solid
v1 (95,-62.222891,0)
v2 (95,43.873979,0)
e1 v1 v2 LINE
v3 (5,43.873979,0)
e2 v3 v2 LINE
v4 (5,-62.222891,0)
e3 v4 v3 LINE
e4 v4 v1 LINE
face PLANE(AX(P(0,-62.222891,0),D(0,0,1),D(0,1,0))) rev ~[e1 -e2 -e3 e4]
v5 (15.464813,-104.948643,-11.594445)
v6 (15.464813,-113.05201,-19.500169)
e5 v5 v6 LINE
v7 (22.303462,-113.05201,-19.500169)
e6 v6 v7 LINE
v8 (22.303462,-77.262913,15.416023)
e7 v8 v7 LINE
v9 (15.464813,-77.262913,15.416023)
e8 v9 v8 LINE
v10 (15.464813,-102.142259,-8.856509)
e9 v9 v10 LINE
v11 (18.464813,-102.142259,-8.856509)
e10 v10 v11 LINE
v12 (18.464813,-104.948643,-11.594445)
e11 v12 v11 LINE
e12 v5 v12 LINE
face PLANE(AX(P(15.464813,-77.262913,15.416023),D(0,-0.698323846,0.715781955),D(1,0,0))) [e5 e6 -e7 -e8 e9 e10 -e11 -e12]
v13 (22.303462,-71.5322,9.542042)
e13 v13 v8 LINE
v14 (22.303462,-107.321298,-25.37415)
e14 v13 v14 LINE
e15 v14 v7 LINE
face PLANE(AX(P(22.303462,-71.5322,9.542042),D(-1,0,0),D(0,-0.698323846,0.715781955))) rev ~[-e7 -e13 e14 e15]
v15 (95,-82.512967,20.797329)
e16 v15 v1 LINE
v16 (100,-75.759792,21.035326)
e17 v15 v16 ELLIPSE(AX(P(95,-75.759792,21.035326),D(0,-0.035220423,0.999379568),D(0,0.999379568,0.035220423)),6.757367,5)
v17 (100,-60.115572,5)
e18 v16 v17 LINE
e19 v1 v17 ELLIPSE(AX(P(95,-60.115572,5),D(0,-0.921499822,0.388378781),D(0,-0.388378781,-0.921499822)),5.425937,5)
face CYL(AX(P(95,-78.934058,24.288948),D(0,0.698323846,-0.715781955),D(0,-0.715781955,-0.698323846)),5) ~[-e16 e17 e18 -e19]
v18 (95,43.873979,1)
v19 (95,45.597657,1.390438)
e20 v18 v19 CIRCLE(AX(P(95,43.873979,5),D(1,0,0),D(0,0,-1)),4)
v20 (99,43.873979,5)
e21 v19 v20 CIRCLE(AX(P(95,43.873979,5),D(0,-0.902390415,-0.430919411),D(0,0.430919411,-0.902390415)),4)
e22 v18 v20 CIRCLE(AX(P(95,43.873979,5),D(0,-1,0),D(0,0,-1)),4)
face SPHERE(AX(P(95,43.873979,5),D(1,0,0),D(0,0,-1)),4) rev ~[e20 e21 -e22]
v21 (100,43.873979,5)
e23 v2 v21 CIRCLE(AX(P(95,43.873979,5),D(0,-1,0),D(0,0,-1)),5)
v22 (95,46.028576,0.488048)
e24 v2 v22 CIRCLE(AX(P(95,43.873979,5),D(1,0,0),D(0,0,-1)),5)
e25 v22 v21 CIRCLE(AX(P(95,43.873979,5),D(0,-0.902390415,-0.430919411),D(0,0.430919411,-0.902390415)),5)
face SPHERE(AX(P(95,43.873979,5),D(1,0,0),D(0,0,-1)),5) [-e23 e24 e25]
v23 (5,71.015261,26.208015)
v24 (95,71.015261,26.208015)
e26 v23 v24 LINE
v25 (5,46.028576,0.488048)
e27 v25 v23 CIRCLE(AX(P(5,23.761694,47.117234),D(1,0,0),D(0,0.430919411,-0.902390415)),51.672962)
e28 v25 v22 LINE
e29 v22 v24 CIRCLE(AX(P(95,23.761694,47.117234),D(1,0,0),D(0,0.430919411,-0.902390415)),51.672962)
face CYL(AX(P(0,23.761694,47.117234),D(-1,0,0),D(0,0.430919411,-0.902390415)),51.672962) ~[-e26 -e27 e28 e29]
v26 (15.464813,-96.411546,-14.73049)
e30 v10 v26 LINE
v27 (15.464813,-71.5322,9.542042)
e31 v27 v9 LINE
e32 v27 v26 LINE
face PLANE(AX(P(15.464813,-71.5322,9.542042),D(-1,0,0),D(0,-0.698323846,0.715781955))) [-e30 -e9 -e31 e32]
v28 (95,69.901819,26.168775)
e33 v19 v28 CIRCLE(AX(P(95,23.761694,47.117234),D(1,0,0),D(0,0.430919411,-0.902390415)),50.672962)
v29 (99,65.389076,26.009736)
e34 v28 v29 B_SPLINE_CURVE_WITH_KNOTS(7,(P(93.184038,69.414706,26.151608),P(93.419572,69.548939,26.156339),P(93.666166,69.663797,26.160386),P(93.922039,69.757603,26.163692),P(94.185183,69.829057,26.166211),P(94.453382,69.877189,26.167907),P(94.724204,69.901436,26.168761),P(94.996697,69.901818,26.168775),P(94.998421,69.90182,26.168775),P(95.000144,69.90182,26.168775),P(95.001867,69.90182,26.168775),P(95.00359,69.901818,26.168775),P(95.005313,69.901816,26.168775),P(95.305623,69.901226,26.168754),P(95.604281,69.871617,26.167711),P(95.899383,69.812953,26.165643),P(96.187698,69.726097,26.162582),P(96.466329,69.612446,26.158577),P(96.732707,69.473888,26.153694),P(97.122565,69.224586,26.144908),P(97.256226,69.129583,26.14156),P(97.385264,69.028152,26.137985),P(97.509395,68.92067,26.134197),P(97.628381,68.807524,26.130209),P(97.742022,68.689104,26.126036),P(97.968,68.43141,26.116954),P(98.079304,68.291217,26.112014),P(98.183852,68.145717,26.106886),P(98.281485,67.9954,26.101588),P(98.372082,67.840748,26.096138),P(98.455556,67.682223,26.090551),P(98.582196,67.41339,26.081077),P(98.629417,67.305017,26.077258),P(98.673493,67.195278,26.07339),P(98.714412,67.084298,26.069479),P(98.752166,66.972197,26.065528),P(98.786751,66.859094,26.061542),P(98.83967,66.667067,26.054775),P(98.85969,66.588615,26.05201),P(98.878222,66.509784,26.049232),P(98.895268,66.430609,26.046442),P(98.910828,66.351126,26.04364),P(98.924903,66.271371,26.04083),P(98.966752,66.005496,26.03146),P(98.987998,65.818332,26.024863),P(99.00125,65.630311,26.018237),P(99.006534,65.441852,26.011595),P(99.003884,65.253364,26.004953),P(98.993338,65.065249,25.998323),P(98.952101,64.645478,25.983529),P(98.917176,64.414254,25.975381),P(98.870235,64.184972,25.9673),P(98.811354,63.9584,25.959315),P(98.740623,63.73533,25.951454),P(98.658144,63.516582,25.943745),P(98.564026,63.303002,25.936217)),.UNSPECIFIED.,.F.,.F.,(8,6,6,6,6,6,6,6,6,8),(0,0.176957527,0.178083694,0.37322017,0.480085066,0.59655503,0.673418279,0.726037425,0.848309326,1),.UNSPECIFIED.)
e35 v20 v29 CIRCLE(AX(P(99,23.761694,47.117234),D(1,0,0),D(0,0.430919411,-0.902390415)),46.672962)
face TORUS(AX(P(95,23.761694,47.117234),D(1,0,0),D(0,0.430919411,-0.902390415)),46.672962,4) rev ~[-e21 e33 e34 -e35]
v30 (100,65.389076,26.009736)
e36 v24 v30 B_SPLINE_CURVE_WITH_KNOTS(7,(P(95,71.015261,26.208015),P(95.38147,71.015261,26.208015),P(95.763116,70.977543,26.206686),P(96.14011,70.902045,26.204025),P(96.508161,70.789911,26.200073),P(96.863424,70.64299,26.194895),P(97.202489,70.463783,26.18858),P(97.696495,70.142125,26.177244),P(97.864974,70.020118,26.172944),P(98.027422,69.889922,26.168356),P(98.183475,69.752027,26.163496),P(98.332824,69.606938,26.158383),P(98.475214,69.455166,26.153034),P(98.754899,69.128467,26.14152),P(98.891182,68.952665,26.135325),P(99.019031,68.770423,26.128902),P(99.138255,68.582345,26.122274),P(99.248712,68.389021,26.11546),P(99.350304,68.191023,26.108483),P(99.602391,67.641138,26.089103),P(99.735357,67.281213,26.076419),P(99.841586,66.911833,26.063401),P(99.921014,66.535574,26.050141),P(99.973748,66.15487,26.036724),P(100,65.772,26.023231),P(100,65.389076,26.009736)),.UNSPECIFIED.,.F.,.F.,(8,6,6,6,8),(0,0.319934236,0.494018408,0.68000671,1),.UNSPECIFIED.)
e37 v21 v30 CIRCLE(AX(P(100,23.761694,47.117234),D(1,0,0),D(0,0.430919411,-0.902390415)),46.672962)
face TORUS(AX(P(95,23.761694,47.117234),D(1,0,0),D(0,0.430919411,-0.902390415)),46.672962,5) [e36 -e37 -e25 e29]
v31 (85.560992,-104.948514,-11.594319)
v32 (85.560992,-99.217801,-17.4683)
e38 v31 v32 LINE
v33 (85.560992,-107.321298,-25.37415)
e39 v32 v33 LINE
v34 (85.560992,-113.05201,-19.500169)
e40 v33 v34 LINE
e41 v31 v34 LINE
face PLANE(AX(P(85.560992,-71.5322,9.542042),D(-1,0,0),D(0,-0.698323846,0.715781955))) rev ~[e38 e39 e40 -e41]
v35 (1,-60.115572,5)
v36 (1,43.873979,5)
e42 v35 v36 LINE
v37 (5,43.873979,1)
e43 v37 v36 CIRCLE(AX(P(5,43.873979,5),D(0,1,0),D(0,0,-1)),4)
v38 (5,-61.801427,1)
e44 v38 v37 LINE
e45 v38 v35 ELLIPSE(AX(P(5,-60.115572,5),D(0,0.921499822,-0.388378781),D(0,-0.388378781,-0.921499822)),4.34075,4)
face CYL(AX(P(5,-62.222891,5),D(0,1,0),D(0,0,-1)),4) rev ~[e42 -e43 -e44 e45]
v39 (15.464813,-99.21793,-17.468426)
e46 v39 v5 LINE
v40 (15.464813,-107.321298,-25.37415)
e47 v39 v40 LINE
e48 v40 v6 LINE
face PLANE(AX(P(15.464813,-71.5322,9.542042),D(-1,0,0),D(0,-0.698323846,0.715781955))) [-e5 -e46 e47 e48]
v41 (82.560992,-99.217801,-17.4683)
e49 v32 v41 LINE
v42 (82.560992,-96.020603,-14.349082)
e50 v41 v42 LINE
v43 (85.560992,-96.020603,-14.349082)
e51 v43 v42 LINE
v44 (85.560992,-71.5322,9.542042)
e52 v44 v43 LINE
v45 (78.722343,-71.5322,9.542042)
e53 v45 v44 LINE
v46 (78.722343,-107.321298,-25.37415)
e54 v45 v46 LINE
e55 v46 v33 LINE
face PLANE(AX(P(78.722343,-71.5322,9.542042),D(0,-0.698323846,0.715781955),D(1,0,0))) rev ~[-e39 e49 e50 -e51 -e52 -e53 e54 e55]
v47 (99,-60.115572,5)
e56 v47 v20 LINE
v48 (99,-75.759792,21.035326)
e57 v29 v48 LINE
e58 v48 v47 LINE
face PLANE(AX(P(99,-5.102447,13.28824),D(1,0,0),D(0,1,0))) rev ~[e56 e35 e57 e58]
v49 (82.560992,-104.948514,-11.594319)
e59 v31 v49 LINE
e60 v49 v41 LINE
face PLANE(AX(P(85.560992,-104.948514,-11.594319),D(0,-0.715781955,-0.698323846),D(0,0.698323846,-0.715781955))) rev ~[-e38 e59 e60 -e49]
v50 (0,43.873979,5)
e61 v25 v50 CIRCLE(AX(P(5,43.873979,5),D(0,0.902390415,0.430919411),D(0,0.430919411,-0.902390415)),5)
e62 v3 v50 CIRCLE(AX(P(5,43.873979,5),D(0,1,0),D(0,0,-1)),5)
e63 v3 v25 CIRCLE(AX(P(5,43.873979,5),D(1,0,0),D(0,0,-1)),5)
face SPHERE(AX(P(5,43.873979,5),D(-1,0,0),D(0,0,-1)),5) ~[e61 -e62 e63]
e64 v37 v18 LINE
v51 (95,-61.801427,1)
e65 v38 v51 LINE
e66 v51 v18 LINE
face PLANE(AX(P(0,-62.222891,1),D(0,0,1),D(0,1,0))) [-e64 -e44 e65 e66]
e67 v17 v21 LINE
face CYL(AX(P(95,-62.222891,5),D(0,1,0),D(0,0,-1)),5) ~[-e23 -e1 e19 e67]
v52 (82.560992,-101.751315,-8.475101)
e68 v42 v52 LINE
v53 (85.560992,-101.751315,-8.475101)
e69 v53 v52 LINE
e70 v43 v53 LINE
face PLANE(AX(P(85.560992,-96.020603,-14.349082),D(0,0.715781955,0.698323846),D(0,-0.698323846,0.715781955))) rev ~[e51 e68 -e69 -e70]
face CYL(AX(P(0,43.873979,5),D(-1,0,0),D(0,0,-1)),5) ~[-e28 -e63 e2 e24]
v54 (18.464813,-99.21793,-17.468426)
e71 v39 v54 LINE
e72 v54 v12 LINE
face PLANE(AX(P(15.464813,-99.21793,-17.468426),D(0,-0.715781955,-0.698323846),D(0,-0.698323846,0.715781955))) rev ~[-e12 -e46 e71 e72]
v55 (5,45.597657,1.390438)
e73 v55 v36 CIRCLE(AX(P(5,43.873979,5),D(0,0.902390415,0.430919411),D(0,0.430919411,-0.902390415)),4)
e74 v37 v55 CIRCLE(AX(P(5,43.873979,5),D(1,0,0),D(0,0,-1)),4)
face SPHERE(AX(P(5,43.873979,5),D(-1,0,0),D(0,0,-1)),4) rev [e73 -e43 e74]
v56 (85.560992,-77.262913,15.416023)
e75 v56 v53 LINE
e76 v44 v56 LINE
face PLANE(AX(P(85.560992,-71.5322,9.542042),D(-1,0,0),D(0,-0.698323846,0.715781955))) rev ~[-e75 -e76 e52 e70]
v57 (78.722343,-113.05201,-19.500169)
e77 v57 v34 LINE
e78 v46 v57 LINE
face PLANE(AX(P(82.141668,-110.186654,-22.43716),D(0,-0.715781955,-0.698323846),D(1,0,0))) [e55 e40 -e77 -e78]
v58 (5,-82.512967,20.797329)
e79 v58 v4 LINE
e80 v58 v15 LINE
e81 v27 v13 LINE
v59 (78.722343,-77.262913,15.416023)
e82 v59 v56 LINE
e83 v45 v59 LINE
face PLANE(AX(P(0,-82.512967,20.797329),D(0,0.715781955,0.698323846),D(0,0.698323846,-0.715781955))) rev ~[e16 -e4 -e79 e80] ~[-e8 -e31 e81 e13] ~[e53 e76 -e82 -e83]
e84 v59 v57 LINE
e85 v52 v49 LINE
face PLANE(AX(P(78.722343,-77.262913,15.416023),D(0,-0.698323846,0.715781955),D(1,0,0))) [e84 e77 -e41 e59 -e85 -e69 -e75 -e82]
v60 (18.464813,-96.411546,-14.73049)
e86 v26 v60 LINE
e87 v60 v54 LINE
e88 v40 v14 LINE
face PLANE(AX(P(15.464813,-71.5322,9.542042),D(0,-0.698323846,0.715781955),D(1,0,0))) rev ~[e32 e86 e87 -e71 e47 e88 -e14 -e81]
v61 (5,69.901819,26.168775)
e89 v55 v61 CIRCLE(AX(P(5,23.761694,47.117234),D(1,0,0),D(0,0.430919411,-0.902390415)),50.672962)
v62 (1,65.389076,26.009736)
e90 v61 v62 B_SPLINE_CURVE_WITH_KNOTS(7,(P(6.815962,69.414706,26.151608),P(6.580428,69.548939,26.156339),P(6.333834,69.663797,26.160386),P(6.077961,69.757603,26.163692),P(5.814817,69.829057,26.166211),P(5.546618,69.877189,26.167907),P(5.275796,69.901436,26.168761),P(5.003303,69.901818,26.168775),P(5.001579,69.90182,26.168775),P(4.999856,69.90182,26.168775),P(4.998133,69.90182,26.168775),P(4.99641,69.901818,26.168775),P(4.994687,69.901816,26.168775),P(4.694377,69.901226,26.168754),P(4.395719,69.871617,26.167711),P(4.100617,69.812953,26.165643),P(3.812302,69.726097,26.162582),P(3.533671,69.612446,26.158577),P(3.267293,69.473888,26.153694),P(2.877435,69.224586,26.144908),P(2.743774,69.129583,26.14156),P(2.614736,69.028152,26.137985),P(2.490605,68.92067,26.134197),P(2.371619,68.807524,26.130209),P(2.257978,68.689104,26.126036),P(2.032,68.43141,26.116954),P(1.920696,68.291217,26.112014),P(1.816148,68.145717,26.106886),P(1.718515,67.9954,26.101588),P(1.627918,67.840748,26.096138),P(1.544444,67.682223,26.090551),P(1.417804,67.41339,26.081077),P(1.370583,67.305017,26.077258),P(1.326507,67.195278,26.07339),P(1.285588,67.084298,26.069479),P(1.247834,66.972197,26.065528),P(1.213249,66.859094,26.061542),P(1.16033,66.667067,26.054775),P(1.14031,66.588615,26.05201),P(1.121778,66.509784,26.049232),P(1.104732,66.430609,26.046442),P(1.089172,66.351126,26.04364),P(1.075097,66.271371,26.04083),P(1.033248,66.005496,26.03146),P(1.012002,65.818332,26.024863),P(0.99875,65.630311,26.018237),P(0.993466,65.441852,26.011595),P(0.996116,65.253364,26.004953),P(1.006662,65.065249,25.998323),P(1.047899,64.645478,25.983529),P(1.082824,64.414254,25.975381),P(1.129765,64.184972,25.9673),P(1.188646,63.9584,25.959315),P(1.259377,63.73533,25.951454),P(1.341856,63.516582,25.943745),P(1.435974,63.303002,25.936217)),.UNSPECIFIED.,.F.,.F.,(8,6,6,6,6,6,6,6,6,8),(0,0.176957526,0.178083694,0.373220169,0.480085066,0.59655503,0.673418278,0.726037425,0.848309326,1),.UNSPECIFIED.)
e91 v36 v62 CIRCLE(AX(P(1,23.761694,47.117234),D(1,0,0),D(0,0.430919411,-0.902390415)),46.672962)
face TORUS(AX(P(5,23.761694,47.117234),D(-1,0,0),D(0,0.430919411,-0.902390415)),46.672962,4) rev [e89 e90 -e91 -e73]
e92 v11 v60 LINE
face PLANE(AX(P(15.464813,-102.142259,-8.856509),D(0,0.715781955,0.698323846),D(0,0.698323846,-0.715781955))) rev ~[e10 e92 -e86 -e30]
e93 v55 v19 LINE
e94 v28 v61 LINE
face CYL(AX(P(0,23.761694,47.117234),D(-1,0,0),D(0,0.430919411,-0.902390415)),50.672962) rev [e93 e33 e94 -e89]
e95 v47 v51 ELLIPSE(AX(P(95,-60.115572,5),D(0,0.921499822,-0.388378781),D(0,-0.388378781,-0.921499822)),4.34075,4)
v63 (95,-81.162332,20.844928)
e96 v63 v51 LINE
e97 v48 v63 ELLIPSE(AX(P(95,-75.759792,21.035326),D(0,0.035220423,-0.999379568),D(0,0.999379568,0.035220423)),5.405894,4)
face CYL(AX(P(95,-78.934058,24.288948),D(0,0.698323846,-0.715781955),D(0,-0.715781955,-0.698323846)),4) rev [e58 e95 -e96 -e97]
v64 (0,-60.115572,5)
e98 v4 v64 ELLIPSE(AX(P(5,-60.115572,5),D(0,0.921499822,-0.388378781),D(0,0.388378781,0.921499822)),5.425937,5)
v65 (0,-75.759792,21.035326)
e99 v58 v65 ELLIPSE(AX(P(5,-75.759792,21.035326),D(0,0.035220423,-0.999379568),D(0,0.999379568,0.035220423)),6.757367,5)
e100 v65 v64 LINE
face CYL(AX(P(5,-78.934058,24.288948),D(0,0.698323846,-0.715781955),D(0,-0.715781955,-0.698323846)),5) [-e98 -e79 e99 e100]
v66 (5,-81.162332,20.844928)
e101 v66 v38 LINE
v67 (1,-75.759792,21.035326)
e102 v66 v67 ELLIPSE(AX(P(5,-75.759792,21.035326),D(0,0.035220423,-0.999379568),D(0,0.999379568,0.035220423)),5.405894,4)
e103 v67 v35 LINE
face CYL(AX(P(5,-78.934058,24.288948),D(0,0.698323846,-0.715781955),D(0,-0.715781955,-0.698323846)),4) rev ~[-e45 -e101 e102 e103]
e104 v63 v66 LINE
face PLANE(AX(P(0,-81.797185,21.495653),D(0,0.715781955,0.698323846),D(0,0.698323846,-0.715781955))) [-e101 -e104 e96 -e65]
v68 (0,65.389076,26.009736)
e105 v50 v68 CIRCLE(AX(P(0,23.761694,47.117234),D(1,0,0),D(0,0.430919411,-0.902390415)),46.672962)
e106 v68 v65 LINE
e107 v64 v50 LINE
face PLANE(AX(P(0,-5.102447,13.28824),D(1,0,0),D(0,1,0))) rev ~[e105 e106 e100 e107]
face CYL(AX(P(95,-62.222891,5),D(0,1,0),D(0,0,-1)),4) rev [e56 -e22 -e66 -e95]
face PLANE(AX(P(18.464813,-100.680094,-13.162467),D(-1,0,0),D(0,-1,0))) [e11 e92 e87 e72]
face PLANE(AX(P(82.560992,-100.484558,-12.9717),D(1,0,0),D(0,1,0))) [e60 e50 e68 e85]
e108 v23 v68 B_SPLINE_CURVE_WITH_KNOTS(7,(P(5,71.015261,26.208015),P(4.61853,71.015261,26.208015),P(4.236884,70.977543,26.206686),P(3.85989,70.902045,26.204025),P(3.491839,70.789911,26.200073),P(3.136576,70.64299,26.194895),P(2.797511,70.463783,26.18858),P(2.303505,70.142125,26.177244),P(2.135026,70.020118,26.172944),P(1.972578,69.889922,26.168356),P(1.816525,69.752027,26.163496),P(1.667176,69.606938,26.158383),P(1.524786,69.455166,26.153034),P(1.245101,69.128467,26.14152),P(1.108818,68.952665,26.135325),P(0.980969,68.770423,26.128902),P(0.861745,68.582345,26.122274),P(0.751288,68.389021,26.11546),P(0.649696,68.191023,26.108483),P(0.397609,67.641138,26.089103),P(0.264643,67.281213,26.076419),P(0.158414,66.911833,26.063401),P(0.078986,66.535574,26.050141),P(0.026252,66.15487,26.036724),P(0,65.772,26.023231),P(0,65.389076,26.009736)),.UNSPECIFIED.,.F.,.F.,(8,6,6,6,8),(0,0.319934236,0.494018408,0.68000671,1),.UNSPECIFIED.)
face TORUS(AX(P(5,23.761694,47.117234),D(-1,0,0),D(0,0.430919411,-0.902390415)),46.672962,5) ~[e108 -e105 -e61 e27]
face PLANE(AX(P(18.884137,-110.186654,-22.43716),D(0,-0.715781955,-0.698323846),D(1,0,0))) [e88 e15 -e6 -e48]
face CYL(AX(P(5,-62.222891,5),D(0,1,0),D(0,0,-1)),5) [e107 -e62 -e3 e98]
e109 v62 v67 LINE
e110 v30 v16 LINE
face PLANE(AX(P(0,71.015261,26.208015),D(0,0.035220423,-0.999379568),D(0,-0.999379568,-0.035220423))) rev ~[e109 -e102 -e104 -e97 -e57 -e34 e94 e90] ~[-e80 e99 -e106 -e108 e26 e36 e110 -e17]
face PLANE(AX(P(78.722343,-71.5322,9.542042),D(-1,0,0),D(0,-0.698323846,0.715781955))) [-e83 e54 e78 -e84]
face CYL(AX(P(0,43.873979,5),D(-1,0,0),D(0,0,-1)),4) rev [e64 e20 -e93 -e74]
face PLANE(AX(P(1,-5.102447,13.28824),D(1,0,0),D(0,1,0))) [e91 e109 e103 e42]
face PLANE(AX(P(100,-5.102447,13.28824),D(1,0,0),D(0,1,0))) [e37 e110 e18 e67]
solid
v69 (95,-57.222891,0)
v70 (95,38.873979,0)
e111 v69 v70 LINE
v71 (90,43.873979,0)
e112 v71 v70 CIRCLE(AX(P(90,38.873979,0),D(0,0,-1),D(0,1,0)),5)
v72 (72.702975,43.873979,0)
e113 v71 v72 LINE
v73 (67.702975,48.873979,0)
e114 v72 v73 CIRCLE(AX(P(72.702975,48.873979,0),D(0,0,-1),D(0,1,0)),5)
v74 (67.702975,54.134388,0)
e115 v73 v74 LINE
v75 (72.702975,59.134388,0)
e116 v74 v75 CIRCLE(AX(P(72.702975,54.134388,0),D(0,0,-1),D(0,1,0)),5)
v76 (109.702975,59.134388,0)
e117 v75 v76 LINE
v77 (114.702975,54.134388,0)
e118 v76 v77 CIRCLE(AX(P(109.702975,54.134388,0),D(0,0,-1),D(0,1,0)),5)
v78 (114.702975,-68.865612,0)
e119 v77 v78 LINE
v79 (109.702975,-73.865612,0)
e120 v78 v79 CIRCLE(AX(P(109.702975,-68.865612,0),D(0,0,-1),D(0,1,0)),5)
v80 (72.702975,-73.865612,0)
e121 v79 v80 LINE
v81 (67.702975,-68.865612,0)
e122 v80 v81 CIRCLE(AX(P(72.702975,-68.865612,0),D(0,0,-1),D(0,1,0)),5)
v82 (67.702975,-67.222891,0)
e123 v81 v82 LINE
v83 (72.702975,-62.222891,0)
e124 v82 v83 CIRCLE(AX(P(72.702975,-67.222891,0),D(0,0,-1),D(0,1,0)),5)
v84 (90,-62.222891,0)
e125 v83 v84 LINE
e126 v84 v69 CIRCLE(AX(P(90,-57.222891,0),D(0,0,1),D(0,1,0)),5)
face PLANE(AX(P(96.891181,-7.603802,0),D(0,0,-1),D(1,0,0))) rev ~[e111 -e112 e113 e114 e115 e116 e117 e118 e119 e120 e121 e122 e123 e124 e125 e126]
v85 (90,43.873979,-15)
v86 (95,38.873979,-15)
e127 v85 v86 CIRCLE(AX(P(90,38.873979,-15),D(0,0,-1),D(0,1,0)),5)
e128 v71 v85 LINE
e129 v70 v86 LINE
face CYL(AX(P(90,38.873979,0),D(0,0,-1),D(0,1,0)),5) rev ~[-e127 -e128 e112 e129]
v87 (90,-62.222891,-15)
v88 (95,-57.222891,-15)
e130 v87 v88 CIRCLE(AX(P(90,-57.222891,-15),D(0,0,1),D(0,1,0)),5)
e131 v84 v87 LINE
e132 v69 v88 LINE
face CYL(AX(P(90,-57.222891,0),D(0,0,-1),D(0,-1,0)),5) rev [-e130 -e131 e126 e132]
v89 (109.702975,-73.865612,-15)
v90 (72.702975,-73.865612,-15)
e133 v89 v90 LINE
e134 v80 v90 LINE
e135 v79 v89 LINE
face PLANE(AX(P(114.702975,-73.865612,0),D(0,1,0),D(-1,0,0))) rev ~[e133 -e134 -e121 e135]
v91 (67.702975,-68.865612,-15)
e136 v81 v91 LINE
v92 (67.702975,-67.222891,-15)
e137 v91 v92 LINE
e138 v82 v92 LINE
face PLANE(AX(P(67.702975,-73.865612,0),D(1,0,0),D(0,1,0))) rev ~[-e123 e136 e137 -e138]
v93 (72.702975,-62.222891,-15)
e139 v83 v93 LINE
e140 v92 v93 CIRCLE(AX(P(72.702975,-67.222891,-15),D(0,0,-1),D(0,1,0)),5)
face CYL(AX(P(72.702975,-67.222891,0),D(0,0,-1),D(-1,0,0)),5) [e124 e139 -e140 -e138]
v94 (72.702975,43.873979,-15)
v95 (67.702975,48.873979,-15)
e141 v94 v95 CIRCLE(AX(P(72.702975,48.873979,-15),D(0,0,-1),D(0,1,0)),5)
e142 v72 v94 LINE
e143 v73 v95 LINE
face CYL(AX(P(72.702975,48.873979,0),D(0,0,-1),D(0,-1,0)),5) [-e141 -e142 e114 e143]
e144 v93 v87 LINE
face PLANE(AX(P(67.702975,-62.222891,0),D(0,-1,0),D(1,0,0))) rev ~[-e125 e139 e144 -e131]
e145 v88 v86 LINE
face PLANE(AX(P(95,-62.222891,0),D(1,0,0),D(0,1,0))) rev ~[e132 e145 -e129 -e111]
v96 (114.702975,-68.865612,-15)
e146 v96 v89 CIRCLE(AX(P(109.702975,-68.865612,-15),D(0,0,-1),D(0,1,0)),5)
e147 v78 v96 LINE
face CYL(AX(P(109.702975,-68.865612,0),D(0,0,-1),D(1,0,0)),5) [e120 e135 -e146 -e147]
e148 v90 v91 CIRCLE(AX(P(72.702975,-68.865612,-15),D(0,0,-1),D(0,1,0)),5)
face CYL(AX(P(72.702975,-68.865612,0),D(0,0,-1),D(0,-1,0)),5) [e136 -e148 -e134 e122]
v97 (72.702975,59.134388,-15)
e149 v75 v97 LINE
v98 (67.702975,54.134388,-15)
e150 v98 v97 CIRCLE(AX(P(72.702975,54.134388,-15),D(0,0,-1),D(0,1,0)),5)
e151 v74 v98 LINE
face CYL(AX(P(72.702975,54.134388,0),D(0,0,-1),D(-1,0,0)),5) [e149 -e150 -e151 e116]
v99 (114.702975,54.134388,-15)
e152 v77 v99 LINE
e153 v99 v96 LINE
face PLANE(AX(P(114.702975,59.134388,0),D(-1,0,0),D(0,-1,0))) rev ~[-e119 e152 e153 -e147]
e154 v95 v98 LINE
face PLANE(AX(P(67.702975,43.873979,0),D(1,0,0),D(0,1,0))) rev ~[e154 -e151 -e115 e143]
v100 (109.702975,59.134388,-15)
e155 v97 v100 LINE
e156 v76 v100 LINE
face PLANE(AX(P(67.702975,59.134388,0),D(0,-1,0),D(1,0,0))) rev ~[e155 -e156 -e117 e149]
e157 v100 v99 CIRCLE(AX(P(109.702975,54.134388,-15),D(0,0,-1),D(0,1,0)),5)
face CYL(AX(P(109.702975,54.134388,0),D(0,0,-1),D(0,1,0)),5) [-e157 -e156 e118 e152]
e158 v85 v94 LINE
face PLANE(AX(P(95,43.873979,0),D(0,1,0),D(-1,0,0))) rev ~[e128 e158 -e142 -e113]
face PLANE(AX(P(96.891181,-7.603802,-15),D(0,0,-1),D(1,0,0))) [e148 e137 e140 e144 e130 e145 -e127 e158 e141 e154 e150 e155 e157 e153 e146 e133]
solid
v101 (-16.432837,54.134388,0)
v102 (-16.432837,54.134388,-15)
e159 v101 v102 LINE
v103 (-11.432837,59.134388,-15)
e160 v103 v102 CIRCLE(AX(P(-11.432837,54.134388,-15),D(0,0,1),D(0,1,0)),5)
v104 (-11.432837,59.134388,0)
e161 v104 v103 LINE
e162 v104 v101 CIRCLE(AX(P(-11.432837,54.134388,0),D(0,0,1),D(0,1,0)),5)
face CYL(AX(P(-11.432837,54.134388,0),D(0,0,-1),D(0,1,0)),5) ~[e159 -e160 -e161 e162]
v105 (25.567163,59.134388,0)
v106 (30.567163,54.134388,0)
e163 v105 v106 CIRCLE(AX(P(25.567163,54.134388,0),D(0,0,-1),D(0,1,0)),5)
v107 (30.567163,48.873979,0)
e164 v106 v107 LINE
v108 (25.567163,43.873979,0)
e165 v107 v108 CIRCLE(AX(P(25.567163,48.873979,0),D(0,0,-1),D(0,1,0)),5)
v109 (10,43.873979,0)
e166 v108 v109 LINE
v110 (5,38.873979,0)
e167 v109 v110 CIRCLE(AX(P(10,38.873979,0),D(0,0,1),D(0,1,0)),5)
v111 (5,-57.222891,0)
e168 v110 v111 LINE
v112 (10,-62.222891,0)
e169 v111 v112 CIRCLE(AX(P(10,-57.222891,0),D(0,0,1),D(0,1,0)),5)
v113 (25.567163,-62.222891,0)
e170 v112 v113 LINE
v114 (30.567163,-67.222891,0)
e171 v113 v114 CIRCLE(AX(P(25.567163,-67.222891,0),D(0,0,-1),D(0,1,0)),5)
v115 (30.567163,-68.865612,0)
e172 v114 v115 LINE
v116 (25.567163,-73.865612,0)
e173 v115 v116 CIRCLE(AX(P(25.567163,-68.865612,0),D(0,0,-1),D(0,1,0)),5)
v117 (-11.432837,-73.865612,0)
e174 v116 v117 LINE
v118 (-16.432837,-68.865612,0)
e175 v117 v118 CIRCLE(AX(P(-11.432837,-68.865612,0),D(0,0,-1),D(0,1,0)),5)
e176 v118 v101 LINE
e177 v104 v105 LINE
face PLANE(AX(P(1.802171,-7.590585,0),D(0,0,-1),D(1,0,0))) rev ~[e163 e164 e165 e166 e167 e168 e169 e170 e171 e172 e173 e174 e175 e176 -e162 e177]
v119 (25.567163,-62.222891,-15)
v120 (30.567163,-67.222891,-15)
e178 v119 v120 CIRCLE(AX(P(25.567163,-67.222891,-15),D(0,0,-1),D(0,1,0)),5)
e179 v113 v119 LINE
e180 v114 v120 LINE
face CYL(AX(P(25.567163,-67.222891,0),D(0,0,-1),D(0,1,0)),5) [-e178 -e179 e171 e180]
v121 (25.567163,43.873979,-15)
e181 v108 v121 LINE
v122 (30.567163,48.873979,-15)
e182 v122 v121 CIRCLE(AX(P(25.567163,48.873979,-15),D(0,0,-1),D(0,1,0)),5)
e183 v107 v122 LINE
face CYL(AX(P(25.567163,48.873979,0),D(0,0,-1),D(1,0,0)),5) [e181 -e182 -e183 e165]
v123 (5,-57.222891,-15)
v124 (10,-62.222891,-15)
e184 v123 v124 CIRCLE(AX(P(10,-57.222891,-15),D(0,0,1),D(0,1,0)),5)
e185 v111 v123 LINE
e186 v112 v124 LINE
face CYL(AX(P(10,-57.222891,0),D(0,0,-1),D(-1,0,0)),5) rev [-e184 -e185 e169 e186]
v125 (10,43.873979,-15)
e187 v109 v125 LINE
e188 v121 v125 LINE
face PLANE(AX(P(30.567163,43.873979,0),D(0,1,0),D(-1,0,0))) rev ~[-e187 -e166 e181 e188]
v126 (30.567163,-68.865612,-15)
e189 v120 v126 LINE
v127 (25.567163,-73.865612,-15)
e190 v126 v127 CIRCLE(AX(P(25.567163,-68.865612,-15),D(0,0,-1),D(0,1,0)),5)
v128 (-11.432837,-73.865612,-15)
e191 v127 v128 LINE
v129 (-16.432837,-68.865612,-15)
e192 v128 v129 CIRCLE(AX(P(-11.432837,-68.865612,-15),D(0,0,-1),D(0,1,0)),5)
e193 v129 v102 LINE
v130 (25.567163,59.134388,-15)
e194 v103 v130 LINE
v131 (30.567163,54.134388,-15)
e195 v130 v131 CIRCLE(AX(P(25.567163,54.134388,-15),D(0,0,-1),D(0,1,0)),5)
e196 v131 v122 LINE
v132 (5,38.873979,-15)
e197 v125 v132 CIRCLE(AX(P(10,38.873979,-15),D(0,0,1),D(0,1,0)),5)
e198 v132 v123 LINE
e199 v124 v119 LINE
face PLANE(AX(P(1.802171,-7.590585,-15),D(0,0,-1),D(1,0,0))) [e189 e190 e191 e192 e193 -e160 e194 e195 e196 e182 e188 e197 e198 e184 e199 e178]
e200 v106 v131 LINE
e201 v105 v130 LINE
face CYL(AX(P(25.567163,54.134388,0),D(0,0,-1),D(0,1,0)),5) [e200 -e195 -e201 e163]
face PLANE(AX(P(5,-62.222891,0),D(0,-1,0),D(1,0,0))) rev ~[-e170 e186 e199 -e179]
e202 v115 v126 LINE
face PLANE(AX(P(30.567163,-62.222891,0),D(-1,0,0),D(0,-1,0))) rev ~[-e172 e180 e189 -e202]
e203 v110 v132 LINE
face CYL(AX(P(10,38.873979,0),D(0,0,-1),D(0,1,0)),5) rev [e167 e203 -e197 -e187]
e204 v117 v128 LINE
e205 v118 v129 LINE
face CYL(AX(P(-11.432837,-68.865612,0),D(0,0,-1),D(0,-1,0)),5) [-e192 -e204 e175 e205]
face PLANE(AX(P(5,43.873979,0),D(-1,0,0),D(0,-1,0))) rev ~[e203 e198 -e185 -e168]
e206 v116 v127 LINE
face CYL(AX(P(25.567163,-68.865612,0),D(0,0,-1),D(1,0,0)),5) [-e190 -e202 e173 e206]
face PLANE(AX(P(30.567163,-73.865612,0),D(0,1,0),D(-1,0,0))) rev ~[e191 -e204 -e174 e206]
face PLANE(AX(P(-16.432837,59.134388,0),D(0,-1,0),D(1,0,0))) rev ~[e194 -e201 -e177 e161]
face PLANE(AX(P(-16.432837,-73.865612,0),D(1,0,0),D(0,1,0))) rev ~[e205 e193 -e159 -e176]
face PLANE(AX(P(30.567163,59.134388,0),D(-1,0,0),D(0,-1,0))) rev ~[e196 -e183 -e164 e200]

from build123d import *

# Parameters (mm, degrees)
F1_DEPTH  = 100
F2_R      = 5
F3_T      = -1
F5_DEPTH  = 15
F6_R      = 5
F6_2_R    = 5
F7_W      = 6.8386495113
F7_H      = 8.2063823938
F8_DEPTH  = 50
F10_DEPTH = 3
F12_DEPTH = 3


with BuildPart() as f1:
    # F0 (on Right) → F1 (new body)
    with BuildSketch(Plane.YZ):
        with BuildLine():
            Line((-62.2228905559, 0), (43.8739794223, 0))
            ThreePointArc((43.8739794223, 0), (44.978569759, 0.1235381486), (46.0285764776, 0.4880479248))
            ThreePointArc((46.0285764776, 0.4880479248), (60.824511036, 11.1110867731), (71.0152611136, 26.2080151588))
            Line((71.0152611136, 26.2080151588), (-82.5129672885, 20.7973290235))
            Line((-82.5129672885, 20.7973290235), (-62.2228905559, 0))
        make_face()
    extrude(amount=F1_DEPTH)

    # F2
    f2_edges = [f1.edges().sort_by_distance(p)[0] for p in [
        (100, -72.367929, 10.398665),
        (100, -9.174456, 0),
        (0, 60.824511, 11.111087),
        (0, -72.367929, 10.398665),
    ]]
    fillet(f2_edges, radius=F2_R)

    # F3
    f3_openings = [f1.faces().sort_by_distance(p)[0] for p in [
        (50, -5.736741, 23.503099),
    ]]
    offset(amount=F3_T, openings=f3_openings)

    # F7 (on face) → F8 (join)
    with BuildSketch(Plane(origin=(0, -31.8795126034, -31.1019629584), x_dir=(1, 0, 0), z_dir=(0, -0.7157819546, -0.6983238457))):
        with Locations((18.8841372728, 60.8858540654)):
            Rectangle(F7_W, F7_H)
        with Locations((82.1416676044, 60.8858540654)):
            Rectangle(F7_W, F7_H)
    extrude(amount=F8_DEPTH)

    # F9 (on face) → F10 (cut)
    with BuildSketch(Plane.YZ.offset(85.5609923601)):
        Polygon((-101.7513151599, -8.475101115), (-104.9485136509, -11.5943190991), (-99.2178011386, -17.4682995294), (-96.0206026476, -14.3490815453), align=None)
    extrude(amount=-F10_DEPTH, mode=Mode.SUBTRACT)

    # F11 (on face) → F12 (cut)
    with BuildSketch(Plane(origin=(15.4648125172, 0, 0), x_dir=(0, -1, 0), z_dir=(-1, 0, 0))):
        Polygon((104.9486428403, -11.5944451375), (102.1422585039, -8.8565092486), (96.4115459916, -14.7304896789), (99.217930328, -17.4684255678), align=None)
    extrude(amount=-F12_DEPTH, mode=Mode.SUBTRACT)


with BuildPart() as f5:
    # F4 (on face) → F5 (new body)
    with BuildSketch(Plane(origin=(0, 0, 0), x_dir=(1, 0, 0), z_dir=(0, 0, -1))):
        Polygon((95, -43.8739794223), (67.7029747336, -43.8739794223), (67.7029747336, -59.1343878611), (114.7029747336, -59.1343878611), (114.7029747336, 73.8656121389), (67.7029747336, 73.8656121389), (67.7029747336, 62.2228905559), (95, 62.2228905559), align=None)
    extrude(amount=F5_DEPTH)

    # F6
    f6_edges = [f5.edges().sort_by_distance(p)[0] for p in [
        (114.702975, -73.865612, -7.5),
        (114.702975, 59.134388, -7.5),
        (67.702975, 59.134388, -7.5),
        (67.702975, -73.865612, -7.5),
        (95, -62.222891, -7.5),
        (95, 43.873979, -7.5),
        (67.702975, 43.873979, -7.5),
        (67.702975, -62.222891, -7.5),
    ]]
    fillet(f6_edges, radius=F6_R)


with BuildPart() as f5b:
    # F4 (on face) → F5, piece 2 (new body)
    with BuildSketch(Plane(origin=(0, 0, 0), x_dir=(1, 0, 0), z_dir=(0, 0, -1))):
        Polygon((-16.4328367253, -59.1343878611), (30.5671632747, -59.1343878611), (30.5671632747, -43.8739794223), (5, -43.8739794223), (5, 62.2228905559), (30.5671632747, 62.2228905559), (30.5671632747, 73.8656121389), (-16.4328367253, 73.8656121389), align=None)
    extrude(amount=F5_DEPTH)

    # F6#2
    f6_2_edges = [f5b.edges().sort_by_distance(p)[0] for p in [
        (-16.432837, -73.865612, -7.5),
        (-16.432837, 59.134388, -7.5),
        (30.567163, 59.134388, -7.5),
        (30.567163, -73.865612, -7.5),
        (5, -62.222891, -7.5),
        (5, 43.873979, -7.5),
        (30.567163, 43.873979, -7.5),
        (30.567163, -62.222891, -7.5),
    ]]
    fillet(f6_2_edges, radius=F6_2_R)


solid = Compound([f1.part, f5.part, f5b.part])
